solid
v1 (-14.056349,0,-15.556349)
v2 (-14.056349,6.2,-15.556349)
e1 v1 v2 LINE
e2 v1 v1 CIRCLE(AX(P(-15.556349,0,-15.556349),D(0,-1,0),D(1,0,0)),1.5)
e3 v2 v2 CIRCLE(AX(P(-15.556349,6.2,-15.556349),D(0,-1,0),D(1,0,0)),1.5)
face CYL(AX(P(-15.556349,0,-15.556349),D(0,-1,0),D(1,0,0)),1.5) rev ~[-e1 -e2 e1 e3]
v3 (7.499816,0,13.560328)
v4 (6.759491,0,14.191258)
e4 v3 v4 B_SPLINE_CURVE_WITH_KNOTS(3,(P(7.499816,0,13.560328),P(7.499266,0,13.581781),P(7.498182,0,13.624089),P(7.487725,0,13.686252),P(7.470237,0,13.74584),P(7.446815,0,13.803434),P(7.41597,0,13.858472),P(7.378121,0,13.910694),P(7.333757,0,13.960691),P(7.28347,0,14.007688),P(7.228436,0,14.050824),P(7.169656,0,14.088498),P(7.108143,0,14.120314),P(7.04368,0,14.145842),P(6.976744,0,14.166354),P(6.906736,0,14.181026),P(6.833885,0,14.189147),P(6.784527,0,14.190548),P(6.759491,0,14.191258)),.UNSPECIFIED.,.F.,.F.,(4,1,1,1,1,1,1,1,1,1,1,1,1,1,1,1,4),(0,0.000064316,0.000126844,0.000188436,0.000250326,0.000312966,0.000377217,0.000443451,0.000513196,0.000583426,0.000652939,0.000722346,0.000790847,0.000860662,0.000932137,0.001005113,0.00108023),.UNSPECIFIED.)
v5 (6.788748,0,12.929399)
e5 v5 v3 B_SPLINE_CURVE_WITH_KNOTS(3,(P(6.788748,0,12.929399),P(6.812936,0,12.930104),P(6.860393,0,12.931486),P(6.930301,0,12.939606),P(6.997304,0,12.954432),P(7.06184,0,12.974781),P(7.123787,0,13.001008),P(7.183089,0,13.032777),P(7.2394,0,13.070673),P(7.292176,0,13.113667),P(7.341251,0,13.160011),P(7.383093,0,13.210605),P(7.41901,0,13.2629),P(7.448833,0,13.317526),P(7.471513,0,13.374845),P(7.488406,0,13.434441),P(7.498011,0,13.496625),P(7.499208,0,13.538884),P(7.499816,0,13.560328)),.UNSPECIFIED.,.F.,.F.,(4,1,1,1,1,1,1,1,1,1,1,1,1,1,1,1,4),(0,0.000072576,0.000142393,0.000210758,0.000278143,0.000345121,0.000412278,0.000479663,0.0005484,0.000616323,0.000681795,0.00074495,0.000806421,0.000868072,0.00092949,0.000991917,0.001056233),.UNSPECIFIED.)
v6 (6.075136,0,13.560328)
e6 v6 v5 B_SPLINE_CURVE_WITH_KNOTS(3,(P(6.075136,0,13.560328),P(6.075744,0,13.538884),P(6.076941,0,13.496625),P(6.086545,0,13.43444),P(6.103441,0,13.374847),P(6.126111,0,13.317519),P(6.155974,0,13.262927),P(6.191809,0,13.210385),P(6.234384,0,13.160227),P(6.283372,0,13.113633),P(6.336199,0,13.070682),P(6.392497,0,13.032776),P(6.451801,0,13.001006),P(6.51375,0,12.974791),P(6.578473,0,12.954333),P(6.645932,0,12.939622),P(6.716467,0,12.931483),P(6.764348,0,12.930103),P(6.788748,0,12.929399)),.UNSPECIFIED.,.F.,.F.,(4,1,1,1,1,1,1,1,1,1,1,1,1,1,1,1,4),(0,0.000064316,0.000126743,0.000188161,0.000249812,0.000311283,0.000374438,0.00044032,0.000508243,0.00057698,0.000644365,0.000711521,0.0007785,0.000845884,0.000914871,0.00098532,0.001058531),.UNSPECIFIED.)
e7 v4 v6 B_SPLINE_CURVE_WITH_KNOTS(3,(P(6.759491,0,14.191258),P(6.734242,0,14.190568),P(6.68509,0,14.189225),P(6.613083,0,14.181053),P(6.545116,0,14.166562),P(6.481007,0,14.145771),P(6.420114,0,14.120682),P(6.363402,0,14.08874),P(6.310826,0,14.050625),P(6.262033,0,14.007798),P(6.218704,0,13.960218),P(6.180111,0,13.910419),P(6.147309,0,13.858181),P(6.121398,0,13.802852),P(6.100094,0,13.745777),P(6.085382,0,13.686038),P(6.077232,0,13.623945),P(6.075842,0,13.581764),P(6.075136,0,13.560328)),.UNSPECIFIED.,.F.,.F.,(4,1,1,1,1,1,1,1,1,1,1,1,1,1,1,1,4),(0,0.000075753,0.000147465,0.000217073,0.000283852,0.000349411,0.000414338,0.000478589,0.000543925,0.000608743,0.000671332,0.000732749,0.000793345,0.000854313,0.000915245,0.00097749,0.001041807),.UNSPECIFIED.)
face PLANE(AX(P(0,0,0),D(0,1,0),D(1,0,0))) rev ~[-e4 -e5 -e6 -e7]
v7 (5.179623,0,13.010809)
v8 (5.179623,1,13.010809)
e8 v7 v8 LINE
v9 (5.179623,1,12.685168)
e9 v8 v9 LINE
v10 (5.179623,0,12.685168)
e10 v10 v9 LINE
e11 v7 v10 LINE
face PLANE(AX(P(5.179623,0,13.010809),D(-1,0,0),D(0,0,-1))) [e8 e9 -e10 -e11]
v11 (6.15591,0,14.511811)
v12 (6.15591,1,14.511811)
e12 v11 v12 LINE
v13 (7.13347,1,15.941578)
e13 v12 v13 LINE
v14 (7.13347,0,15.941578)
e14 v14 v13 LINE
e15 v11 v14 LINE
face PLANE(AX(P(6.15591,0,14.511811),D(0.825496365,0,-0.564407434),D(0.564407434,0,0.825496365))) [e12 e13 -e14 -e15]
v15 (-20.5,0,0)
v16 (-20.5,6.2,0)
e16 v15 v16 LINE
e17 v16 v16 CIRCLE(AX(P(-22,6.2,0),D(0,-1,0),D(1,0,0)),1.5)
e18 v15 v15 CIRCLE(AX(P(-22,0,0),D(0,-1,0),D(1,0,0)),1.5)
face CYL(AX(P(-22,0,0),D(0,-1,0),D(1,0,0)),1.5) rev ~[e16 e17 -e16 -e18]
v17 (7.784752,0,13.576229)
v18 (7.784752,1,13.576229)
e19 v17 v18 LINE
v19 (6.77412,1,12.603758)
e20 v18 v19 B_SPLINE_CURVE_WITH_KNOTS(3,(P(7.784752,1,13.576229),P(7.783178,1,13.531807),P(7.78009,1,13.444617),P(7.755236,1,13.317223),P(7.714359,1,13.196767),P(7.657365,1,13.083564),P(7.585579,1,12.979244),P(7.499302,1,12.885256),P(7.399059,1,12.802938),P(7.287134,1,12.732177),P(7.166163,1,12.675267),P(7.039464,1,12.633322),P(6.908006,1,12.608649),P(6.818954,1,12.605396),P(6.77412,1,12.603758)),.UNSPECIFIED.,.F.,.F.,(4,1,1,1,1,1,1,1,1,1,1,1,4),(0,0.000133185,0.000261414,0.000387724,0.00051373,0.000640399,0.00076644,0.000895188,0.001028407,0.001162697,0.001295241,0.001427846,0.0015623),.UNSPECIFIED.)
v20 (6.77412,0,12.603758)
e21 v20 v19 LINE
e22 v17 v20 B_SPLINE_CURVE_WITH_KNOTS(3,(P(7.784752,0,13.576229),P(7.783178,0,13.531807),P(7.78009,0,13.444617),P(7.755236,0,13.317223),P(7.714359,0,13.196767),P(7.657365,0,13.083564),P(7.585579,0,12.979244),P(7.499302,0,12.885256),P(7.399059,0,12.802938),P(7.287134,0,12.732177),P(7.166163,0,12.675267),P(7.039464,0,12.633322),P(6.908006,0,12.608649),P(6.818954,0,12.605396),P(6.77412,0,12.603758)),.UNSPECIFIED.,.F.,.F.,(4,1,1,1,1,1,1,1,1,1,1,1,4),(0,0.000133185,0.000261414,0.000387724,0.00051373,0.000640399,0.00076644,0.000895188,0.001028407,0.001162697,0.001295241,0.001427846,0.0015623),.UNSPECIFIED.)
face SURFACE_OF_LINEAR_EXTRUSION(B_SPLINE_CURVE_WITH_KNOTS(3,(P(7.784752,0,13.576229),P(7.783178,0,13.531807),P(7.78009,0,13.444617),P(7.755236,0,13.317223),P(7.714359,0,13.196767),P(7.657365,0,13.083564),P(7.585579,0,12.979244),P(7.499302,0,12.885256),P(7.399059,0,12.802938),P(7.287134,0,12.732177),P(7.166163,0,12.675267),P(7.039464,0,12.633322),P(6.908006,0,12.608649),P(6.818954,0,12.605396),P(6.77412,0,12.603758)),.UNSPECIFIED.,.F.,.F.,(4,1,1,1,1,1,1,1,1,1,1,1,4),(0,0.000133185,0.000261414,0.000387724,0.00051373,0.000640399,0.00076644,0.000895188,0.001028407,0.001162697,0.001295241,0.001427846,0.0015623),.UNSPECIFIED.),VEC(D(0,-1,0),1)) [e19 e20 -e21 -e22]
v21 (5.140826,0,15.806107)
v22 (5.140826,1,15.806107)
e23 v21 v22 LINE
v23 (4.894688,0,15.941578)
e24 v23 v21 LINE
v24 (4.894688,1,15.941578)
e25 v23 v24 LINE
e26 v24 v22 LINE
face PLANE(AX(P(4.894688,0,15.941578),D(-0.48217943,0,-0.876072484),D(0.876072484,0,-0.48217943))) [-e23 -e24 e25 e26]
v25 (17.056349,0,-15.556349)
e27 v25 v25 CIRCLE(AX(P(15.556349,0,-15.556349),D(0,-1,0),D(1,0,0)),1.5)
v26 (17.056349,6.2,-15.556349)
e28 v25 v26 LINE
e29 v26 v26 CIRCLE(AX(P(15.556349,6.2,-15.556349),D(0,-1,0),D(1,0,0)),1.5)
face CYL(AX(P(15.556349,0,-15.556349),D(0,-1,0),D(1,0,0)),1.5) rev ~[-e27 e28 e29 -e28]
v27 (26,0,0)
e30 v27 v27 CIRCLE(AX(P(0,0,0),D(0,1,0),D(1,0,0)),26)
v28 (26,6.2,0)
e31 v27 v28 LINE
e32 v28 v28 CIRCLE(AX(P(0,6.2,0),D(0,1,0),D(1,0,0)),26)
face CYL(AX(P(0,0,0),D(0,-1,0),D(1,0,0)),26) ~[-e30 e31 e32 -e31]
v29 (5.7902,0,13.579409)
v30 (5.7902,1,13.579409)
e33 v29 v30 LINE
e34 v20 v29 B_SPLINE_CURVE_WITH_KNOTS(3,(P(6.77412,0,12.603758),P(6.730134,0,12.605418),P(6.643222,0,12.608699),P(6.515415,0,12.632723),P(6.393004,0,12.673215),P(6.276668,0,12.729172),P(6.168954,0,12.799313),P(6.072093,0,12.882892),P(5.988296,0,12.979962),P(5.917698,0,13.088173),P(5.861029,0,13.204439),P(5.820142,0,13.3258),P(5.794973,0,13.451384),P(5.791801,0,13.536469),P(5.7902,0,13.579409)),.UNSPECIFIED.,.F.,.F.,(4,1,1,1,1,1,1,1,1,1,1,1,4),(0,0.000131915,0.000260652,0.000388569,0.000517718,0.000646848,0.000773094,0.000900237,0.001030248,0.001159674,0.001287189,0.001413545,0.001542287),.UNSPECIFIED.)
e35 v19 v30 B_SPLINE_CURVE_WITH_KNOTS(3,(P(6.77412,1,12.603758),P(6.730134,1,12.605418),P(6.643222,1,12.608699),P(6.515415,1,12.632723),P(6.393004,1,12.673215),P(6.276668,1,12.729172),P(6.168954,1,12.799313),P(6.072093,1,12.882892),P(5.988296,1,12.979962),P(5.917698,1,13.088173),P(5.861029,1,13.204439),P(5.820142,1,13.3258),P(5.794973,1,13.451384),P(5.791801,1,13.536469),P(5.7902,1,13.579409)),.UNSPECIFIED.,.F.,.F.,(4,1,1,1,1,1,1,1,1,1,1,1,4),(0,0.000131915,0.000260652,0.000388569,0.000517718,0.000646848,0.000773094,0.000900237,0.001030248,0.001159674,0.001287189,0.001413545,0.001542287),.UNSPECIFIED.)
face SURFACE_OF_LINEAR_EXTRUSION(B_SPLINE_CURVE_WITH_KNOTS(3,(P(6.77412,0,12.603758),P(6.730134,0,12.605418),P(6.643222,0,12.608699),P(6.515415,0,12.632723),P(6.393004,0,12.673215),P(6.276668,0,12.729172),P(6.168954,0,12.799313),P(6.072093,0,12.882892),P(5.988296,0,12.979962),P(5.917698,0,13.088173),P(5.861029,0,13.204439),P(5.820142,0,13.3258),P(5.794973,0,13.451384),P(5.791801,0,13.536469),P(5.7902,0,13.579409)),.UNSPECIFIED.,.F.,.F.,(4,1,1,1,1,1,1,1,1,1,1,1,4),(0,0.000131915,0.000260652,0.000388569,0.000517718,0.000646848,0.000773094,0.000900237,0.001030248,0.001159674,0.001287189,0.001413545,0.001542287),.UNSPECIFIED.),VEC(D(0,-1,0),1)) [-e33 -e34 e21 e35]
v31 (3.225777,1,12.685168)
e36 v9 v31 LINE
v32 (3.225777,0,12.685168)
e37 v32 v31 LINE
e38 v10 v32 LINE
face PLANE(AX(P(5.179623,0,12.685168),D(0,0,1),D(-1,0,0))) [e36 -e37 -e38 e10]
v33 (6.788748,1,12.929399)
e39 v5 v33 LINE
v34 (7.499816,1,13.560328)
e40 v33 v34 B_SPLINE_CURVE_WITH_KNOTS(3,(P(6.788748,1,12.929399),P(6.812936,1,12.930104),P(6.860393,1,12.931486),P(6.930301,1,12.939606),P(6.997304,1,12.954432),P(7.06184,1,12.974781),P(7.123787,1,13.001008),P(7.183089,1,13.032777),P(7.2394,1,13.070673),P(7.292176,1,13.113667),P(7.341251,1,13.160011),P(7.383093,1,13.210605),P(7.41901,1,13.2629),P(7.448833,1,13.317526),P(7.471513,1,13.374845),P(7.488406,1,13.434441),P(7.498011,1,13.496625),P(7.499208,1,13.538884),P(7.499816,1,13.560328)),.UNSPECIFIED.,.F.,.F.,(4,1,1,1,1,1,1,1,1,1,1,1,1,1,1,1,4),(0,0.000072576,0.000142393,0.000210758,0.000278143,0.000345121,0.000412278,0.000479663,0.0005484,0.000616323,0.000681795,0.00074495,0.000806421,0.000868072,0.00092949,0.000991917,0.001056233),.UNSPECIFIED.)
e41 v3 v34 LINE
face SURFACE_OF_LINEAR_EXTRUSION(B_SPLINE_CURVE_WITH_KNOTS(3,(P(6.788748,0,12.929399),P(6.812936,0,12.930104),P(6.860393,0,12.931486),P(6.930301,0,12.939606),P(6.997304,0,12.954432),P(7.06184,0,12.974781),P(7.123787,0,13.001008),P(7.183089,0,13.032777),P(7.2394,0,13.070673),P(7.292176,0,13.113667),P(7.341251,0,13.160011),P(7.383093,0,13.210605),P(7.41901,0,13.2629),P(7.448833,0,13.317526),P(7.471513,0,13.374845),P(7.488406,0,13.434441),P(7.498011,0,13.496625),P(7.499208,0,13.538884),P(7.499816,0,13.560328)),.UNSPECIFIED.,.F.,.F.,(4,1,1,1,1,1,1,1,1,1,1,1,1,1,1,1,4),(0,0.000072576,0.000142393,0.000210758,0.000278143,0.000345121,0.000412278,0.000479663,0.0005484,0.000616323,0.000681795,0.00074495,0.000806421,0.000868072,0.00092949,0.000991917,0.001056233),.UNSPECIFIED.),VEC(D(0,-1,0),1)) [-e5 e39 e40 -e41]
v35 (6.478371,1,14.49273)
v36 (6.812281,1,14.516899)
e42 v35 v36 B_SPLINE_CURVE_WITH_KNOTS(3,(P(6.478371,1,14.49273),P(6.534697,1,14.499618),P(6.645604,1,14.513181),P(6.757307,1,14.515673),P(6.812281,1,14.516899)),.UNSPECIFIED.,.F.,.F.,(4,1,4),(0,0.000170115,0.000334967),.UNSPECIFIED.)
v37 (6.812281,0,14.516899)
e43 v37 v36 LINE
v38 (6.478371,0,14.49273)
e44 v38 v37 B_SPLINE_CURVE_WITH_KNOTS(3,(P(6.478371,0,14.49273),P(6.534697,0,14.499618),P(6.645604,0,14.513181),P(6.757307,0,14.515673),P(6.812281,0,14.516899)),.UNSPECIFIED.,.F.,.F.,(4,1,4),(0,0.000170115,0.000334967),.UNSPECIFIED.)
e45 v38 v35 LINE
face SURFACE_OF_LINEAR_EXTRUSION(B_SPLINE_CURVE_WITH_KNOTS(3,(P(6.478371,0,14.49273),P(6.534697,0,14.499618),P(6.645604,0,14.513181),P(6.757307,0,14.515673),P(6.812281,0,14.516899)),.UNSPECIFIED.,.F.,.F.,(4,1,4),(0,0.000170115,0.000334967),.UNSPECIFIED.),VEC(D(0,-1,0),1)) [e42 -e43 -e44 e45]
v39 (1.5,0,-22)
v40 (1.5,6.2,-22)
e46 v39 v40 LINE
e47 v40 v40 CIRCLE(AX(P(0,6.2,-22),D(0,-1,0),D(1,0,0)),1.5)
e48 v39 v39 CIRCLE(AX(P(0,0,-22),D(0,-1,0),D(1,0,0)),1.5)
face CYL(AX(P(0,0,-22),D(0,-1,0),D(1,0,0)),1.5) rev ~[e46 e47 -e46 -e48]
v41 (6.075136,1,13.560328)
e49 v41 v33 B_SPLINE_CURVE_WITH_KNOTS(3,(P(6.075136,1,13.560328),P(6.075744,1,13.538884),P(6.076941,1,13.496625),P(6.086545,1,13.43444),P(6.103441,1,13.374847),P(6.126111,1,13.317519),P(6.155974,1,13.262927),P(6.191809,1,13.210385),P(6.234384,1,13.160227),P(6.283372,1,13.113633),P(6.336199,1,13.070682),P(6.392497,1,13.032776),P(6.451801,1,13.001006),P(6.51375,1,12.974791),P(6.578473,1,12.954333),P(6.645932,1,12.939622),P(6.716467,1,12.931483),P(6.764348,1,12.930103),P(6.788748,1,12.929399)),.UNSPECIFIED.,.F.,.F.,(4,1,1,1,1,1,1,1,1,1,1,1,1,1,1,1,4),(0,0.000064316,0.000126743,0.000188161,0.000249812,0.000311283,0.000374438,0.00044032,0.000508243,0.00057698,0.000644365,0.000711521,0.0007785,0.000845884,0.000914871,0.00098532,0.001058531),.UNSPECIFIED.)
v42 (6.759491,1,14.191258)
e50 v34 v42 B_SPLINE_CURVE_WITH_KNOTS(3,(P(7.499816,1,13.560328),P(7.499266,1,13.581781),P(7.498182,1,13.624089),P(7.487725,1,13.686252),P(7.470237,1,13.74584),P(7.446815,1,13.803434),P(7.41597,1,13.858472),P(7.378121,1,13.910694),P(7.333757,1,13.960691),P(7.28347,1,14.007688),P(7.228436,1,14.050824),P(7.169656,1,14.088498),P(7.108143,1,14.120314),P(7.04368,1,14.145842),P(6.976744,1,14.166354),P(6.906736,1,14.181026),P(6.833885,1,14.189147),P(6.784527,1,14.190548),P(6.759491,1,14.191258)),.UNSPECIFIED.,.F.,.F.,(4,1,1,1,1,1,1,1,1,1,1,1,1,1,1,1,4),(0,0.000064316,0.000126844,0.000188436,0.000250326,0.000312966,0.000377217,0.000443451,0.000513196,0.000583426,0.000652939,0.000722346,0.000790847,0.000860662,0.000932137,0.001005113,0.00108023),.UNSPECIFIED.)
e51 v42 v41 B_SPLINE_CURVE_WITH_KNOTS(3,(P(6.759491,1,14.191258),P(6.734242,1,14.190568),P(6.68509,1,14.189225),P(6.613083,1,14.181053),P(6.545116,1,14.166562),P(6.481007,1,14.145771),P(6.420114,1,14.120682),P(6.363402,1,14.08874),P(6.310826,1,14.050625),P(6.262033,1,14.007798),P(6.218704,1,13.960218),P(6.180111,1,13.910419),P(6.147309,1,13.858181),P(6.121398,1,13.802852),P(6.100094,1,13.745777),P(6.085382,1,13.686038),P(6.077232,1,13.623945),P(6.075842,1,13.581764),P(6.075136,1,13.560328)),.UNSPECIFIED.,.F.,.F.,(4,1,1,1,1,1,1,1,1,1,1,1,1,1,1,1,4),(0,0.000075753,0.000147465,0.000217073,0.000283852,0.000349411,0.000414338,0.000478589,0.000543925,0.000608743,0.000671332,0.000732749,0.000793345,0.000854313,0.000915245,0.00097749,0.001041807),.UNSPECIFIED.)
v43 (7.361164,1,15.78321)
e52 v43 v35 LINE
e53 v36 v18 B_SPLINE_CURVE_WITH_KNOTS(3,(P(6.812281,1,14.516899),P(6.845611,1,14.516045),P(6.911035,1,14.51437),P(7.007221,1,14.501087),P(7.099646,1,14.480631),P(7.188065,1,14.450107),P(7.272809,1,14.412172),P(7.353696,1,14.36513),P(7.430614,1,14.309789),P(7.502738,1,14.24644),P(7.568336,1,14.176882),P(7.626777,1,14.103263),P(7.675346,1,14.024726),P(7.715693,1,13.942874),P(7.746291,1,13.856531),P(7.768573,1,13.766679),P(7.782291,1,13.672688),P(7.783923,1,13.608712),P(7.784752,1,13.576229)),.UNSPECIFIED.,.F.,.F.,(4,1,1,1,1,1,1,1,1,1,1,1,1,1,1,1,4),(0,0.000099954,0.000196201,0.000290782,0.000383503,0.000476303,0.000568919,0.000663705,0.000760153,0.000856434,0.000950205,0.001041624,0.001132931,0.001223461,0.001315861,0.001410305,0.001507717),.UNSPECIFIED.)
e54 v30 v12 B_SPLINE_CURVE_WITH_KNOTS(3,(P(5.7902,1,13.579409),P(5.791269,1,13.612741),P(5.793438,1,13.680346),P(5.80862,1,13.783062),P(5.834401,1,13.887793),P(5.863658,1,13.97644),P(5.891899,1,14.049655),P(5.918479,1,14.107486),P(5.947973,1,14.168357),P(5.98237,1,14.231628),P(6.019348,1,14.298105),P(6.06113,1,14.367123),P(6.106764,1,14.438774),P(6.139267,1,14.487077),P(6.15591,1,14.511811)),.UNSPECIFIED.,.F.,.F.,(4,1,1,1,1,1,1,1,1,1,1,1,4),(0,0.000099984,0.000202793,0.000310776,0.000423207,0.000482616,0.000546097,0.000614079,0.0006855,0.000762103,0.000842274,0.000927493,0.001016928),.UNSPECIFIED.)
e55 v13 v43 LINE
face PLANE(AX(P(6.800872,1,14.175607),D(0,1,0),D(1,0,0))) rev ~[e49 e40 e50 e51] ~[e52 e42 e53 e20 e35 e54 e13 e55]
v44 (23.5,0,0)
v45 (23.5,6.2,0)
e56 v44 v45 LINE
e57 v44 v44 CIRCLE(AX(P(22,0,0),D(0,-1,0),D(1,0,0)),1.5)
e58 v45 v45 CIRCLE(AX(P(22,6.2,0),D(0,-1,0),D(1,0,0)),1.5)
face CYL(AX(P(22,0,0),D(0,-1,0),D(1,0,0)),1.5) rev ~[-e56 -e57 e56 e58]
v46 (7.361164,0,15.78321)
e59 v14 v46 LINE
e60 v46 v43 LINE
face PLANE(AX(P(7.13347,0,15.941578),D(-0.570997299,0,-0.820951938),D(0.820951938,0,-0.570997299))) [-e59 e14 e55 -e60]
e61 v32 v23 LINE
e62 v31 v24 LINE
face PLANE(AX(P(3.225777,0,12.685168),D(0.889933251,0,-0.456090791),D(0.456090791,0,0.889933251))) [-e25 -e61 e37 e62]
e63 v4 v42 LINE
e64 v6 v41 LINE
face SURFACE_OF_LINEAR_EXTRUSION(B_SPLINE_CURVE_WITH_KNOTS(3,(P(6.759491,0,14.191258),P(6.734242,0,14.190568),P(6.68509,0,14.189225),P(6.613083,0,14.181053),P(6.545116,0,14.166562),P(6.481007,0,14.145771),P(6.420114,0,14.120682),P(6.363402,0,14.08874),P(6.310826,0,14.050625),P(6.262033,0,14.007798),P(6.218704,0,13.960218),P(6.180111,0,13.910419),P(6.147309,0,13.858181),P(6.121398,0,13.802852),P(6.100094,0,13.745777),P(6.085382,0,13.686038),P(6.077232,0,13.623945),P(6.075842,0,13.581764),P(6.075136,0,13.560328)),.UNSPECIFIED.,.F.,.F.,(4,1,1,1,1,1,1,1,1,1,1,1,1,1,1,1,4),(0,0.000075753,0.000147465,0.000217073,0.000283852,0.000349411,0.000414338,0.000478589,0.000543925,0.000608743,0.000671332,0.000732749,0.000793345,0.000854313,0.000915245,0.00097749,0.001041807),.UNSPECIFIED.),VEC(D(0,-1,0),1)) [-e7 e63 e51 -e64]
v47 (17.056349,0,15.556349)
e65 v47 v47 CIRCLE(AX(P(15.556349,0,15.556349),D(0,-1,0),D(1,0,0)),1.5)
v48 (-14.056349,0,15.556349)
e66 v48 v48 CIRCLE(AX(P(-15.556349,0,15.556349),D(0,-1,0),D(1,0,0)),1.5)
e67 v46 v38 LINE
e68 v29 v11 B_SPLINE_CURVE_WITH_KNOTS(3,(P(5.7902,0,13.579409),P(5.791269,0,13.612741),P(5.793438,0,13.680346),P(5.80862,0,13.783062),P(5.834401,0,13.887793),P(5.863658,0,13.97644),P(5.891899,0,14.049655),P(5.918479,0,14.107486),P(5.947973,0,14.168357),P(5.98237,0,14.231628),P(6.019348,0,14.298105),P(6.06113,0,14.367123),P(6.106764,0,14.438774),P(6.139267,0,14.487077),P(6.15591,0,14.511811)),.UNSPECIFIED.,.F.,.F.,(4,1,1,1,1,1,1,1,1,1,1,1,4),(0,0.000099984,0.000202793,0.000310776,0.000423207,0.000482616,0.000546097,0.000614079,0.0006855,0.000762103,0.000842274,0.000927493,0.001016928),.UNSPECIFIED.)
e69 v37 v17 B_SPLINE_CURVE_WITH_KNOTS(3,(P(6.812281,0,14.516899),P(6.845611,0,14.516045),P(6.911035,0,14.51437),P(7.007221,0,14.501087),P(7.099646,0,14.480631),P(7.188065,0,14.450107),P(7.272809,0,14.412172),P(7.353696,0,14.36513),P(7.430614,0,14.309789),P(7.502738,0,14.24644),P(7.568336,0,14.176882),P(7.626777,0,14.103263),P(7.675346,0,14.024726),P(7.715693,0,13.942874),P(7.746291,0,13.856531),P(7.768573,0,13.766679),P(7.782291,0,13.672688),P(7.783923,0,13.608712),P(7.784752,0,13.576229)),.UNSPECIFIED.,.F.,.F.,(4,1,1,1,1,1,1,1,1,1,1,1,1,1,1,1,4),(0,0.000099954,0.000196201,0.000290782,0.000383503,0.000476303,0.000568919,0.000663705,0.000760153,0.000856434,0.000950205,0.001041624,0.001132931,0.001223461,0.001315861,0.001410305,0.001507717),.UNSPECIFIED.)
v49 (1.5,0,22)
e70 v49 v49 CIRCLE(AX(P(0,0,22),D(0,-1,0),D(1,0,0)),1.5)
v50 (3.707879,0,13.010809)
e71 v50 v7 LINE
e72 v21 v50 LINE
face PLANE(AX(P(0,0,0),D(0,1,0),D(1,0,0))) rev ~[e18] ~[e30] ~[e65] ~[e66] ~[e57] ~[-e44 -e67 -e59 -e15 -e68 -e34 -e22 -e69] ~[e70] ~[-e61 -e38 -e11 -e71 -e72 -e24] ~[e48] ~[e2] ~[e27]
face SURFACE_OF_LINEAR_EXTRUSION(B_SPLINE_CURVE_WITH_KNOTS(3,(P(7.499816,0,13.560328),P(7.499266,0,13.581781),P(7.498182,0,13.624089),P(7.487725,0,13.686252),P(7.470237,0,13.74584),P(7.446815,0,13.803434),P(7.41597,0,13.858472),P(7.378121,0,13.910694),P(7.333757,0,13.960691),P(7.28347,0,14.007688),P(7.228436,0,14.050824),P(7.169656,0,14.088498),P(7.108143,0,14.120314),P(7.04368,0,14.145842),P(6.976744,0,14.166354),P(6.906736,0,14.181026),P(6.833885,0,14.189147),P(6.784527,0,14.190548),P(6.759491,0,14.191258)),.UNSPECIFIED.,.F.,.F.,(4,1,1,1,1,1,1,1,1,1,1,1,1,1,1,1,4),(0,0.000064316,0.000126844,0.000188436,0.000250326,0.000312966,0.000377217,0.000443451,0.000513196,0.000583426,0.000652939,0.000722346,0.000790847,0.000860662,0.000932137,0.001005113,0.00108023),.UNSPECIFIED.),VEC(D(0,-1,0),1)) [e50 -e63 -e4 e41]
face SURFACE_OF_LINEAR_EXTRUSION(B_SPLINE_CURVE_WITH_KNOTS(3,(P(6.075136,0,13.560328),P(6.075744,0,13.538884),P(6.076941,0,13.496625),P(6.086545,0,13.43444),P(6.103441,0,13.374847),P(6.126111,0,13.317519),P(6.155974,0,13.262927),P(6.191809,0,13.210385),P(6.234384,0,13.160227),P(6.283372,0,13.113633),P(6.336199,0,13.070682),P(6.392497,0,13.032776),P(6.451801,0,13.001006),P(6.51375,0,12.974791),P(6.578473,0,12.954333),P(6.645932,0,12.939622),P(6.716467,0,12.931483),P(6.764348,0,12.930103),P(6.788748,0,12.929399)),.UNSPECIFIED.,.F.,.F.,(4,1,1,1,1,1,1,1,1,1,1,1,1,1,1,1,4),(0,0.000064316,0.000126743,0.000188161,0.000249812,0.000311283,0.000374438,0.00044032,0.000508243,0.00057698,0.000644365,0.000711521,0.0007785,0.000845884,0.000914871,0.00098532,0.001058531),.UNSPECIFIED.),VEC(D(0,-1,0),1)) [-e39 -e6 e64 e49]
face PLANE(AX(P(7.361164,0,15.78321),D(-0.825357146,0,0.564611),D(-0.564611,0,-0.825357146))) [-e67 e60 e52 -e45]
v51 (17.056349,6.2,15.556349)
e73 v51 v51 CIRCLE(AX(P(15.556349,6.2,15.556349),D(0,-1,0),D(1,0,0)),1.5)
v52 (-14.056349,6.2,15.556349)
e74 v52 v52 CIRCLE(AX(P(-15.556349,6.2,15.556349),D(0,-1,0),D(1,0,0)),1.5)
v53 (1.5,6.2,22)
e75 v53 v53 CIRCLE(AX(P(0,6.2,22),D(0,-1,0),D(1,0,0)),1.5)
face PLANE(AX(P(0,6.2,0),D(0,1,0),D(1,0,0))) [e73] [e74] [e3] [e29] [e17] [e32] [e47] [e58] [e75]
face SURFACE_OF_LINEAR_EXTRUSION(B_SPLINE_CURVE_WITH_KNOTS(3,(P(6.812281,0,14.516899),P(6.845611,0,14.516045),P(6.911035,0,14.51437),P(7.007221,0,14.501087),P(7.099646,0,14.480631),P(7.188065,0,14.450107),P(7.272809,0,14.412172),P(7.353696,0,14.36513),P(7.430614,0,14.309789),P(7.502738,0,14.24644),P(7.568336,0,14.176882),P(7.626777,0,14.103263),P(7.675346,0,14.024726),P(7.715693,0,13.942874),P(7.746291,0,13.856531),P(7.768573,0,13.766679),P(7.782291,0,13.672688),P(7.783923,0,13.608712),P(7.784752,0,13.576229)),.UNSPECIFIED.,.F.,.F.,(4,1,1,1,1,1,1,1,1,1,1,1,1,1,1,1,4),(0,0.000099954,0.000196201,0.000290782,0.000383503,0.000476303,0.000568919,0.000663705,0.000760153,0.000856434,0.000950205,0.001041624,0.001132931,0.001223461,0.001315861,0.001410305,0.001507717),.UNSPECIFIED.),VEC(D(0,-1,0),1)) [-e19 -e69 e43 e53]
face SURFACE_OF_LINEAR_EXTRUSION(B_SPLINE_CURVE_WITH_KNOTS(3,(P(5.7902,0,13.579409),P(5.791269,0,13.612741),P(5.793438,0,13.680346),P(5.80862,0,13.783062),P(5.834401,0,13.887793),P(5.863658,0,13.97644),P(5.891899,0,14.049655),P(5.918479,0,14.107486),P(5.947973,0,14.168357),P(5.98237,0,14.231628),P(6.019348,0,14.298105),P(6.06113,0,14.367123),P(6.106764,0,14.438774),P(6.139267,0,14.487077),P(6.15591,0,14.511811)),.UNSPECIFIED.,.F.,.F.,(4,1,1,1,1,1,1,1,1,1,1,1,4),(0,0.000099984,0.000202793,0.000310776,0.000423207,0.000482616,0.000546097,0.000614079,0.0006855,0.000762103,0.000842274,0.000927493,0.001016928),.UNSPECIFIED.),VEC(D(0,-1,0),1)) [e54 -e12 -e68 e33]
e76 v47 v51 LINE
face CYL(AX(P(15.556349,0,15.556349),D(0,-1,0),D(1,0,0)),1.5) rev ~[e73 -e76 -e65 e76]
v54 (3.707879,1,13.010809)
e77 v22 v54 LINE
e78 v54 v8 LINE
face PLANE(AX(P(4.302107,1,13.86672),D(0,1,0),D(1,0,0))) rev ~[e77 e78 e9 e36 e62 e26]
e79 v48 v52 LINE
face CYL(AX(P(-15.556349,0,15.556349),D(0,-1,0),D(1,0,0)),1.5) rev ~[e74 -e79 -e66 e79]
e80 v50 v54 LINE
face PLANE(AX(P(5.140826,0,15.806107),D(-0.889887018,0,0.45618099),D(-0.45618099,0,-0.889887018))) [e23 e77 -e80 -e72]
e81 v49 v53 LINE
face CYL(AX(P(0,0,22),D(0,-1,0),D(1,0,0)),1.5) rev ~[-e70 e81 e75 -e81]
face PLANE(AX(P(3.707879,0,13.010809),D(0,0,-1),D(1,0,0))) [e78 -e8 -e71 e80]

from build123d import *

# Parameters (mm, degrees)
SKETCH1_R           = 26
BOSS_EXTRUDE1_DEPTH = 6.2
SKETCH4_R           = 1.5
CUT_EXTRUDE1_DEPTH  = 13
SKETCH5_R           = 1.5
CUT_EXTRUDE2_DEPTH  = 10
CUT_EXTRUDE3_DEPTH  = 1


with BuildPart() as part:
    # Sketch1 → Boss-Extrude1 (new body)
    with BuildSketch(Plane(origin=(0, 0, 0), x_dir=(1, 0, 0), z_dir=(0, 1, 0))):
        Circle(SKETCH1_R)
    extrude(amount=BOSS_EXTRUDE1_DEPTH)

    # Sketch4 → Cut-Extrude1 (cut)
    with BuildSketch(Plane.XZ):
        with Locations((22, 0)):
            Circle(SKETCH4_R)
    extrude(amount=-CUT_EXTRUDE1_DEPTH, mode=Mode.SUBTRACT)

    # Sketch5 → Cut-Extrude2 (cut)
    with BuildSketch(Plane.XZ):
        with Locations((-22, 0)):
            Circle(SKETCH5_R)
        with Locations((0, 22)):
            Circle(SKETCH5_R)
        with Locations((0, -22)):
            Circle(SKETCH5_R)
        with Locations((-15.556349186, 15.556349186)):
            Circle(SKETCH5_R)
        with Locations((15.556349186, 15.556349186)):
            Circle(SKETCH5_R)
        with Locations((15.556349186, -15.556349186)):
            Circle(SKETCH5_R)
        with Locations((-15.556349186, -15.556349186)):
            Circle(SKETCH5_R)
    extrude(amount=-CUT_EXTRUDE2_DEPTH, mode=Mode.SUBTRACT)

    # Sketch6 → Cut-Extrude3 (cut)
    with BuildSketch(Plane(origin=(0, 0, 0), x_dir=(-1, 0, 0), z_dir=(0, -1, 0))):
        with BuildLine():
            Line((-7.133469585, -15.941578498), (-7.361163896, -15.783210108))
            Line((-7.361163896, -15.783210108), (-6.478371428, -14.492730341))
            add(Edge.make_bspline(
                [(-6.478371428, -14.492730341), (-6.534696595, -14.499618334), (-6.64560399, -14.513181177), (-6.757306933, -14.515672785), (-6.812280683, -14.516899011)],
                knots=[0, 0, 0, 0, 0.000170115, 0.000334967, 0.000334967, 0.000334967, 0.000334967], degree=3))
            add(Edge.make_bspline(
                [(-6.812280683, -14.516899011), (-6.845610969, -14.51604532), (-6.911035406, -14.5143696), (-7.007221263, -14.501087388), (-7.099646021, -14.4806312), (-7.188064651, -14.450106973), (-7.272809488, -14.412171883), (-7.353695528, -14.365130163), (-7.430613885, -14.309788742), (-7.502738465, -14.246440242), (-7.568335542, -14.176882295), (-7.626776676, -14.103262533), (-7.675346132, -14.02472576), (-7.715692748, -13.94287406), (-7.746291089, -13.856530978), (-7.768572819, -13.766679022), (-7.782290955, -13.672688461), (-7.783922991, -13.608712092), (-7.784751636, -13.576228939)],
                knots=[0, 0, 0, 0, 9.9954e-05, 0.000196201, 0.000290782, 0.000383503, 0.000476303, 0.000568919, 0.000663705, 0.000760153, 0.000856434, 0.000950205, 0.001041624, 0.001132931, 0.001223461, 0.001315861, 0.001410305, 0.001507717, 0.001507717, 0.001507717, 0.001507717], degree=3))
            add(Edge.make_bspline(
                [(-7.784751636, -13.576228939), (-7.783178256, -13.531807375), (-7.78009003, -13.444616857), (-7.755235661, -13.317223367), (-7.714359496, -13.196767002), (-7.657365183, -13.083564469), (-7.585578686, -12.979244184), (-7.499301608, -12.885256374), (-7.399058726, -12.802937828), (-7.287133608, -12.732176987), (-7.166163368, -12.675267382), (-7.039463942, -12.633321731), (-6.908006134, -12.608648581), (-6.818954033, -12.605395693), (-6.774119625, -12.603757985)],
                knots=[0, 0, 0, 0, 0.000133185, 0.000261414, 0.000387724, 0.00051373, 0.000640399, 0.00076644, 0.000895188, 0.001028407, 0.001162697, 0.001295241, 0.001427846, 0.0015623, 0.0015623, 0.0015623, 0.0015623], degree=3))
            add(Edge.make_bspline(
                [(-6.774119625, -12.603757985), (-6.730133702, -12.605418204), (-6.643221663, -12.608698641), (-6.515415207, -12.632723385), (-6.393004427, -12.673215224), (-6.276667904, -12.729171935), (-6.168954294, -12.799313044), (-6.072093379, -12.882892219), (-5.988295569, -12.979961519), (-5.917698191, -13.088173221), (-5.861028941, -13.204438982), (-5.820141941, -13.325800112), (-5.794972683, -13.451383809), (-5.791801015, -13.536468796), (-5.790200354, -13.579409027)],
                knots=[0, 0, 0, 0, 0.000131915, 0.000260652, 0.000388569, 0.000517718, 0.000646848, 0.000773094, 0.000900237, 0.001030248, 0.001159674, 0.001287189, 0.001413545, 0.001542287, 0.001542287, 0.001542287, 0.001542287], degree=3))
            add(Edge.make_bspline(
                [(-5.790200354, -13.579409027), (-5.79126934, -13.612740873), (-5.793437509, -13.680346185), (-5.80861973, -13.783062281), (-5.834400898, -13.887793039), (-5.863657796, -13.976440487), (-5.89189912, -14.049654581), (-5.918479432, -14.107486371), (-5.9479726, -14.168356803), (-5.982370337, -14.231627602), (-6.019347564, -14.29810533), (-6.061129907, -14.367123223), (-6.106764248, -14.438773895), (-6.139266922, -14.48707661), (-6.155910491, -14.51181087)],
                knots=[0, 0, 0, 0, 9.9984e-05, 0.000202793, 0.000310776, 0.000423207, 0.000482616, 0.000546097, 0.000614079, 0.0006855, 0.000762103, 0.000842274, 0.000927493, 0.001016928, 0.001016928, 0.001016928, 0.001016928], degree=3))
            Line((-6.155910491, -14.51181087), (-7.133469585, -15.941578498))
        make_face()
        with BuildLine():
            add(Edge.make_bspline(
                [(-6.75949122, -14.191257985), (-6.734241793, -14.190568208), (-6.685089742, -14.189225448), (-6.613083192, -14.181052778), (-6.545116236, -14.166562091), (-6.481007317, -14.145770638), (-6.420113628, -14.120682088), (-6.363402387, -14.088739786), (-6.310826133, -14.050624696), (-6.262032799, -14.007798468), (-6.218704028, -13.960218295), (-6.180111422, -13.910418777), (-6.147308621, -13.85818131), (-6.121397648, -13.802851707), (-6.100093783, -13.745776811), (-6.08538173, -13.686037503), (-6.077231656, -13.623945025), (-6.075842299, -13.5817641), (-6.075136252, -13.560328498)],
                knots=[0, 0, 0, 0, 7.5753e-05, 0.000147465, 0.000217073, 0.000283852, 0.000349411, 0.000414338, 0.000478589, 0.000543925, 0.000608743, 0.000671332, 0.000732749, 0.000793345, 0.000854313, 0.000915245, 0.00097749, 0.001041807, 0.001041807, 0.001041807, 0.001041807], degree=3))
            add(Edge.make_bspline(
                [(-6.075136252, -13.560328498), (-6.075743737, -13.538883944), (-6.076940862, -13.496624821), (-6.086545056, -13.434440415), (-6.103440794, -13.374847242), (-6.126110733, -13.317519052), (-6.155974092, -13.262926858), (-6.191809397, -13.21038526), (-6.234383834, -13.160227401), (-6.283371876, -13.11363293), (-6.336198935, -13.070681622), (-6.392496674, -13.032775681), (-6.451801062, -13.001006453), (-6.513750292, -12.974790959), (-6.578473437, -12.954333277), (-6.645932198, -12.93962181), (-6.716467459, -12.931483147), (-6.764347626, -12.930102571), (-6.788748031, -12.929399011)],
                knots=[0, 0, 0, 0, 6.4316e-05, 0.000126743, 0.000188161, 0.000249812, 0.000311283, 0.000374438, 0.00044032, 0.000508243, 0.00057698, 0.000644365, 0.000711521, 0.0007785, 0.000845884, 0.000914871, 0.00098532, 0.001058531, 0.001058531, 0.001058531, 0.001058531], degree=3))
            add(Edge.make_bspline(
                [(-6.788748031, -12.929399011), (-6.812936227, -12.930103708), (-6.860393269, -12.931486318), (-6.930301471, -12.93960634), (-6.997304101, -12.954432215), (-7.061839714, -12.974781483), (-7.123787103, -13.001008409), (-7.183088694, -13.032777346), (-7.239399603, -13.070672896), (-7.292176014, -13.113666725), (-7.341250557, -13.160010519), (-7.383093001, -13.210604986), (-7.419010318, -13.262899526), (-7.448832642, -13.317526316), (-7.471513497, -13.374845304), (-7.488406312, -13.43444094), (-7.498011291, -13.496624685), (-7.499208308, -13.538883898), (-7.499815739, -13.560328498)],
                knots=[0, 0, 0, 0, 7.2576e-05, 0.000142393, 0.000210758, 0.000278143, 0.000345121, 0.000412278, 0.000479663, 0.0005484, 0.000616323, 0.000681795, 0.00074495, 0.000806421, 0.000868072, 0.00092949, 0.000991917, 0.001056233, 0.001056233, 0.001056233, 0.001056233], degree=3))
            add(Edge.make_bspline(
                [(-7.499815739, -13.560328498), (-7.499266077, -13.581780792), (-7.498182044, -13.624088644), (-7.487724692, -13.686251872), (-7.470236538, -13.745840447), (-7.446814663, -13.803433775), (-7.415970363, -13.858471817), (-7.378120872, -13.910693638), (-7.333756556, -13.960691225), (-7.283470463, -14.007687768), (-7.228435774, -14.050824384), (-7.169655869, -14.088498373), (-7.10814266, -14.120314091), (-7.043679609, -14.145842346), (-6.97674444, -14.166354355), (-6.906735571, -14.181026071), (-6.833884527, -14.189147056), (-6.784526901, -14.190547591), (-6.75949122, -14.191257985)],
                knots=[0, 0, 0, 0, 6.4316e-05, 0.000126844, 0.000188436, 0.000250326, 0.000312966, 0.000377217, 0.000443451, 0.000513196, 0.000583426, 0.000652939, 0.000722346, 0.000790847, 0.000860662, 0.000932137, 0.001005113, 0.00108023, 0.00108023, 0.00108023, 0.00108023], degree=3))
        make_face(mode=Mode.SUBTRACT)
        Polygon((-5.179623431, -12.685168241), (-3.225777277, -12.685168241), (-4.894687534, -15.941578498), (-5.140826356, -15.806106743), (-3.70787864, -13.010809267), (-5.179623431, -13.010809267), align=None)
    extrude(amount=-CUT_EXTRUDE3_DEPTH, mode=Mode.SUBTRACT)


solid = part.part
